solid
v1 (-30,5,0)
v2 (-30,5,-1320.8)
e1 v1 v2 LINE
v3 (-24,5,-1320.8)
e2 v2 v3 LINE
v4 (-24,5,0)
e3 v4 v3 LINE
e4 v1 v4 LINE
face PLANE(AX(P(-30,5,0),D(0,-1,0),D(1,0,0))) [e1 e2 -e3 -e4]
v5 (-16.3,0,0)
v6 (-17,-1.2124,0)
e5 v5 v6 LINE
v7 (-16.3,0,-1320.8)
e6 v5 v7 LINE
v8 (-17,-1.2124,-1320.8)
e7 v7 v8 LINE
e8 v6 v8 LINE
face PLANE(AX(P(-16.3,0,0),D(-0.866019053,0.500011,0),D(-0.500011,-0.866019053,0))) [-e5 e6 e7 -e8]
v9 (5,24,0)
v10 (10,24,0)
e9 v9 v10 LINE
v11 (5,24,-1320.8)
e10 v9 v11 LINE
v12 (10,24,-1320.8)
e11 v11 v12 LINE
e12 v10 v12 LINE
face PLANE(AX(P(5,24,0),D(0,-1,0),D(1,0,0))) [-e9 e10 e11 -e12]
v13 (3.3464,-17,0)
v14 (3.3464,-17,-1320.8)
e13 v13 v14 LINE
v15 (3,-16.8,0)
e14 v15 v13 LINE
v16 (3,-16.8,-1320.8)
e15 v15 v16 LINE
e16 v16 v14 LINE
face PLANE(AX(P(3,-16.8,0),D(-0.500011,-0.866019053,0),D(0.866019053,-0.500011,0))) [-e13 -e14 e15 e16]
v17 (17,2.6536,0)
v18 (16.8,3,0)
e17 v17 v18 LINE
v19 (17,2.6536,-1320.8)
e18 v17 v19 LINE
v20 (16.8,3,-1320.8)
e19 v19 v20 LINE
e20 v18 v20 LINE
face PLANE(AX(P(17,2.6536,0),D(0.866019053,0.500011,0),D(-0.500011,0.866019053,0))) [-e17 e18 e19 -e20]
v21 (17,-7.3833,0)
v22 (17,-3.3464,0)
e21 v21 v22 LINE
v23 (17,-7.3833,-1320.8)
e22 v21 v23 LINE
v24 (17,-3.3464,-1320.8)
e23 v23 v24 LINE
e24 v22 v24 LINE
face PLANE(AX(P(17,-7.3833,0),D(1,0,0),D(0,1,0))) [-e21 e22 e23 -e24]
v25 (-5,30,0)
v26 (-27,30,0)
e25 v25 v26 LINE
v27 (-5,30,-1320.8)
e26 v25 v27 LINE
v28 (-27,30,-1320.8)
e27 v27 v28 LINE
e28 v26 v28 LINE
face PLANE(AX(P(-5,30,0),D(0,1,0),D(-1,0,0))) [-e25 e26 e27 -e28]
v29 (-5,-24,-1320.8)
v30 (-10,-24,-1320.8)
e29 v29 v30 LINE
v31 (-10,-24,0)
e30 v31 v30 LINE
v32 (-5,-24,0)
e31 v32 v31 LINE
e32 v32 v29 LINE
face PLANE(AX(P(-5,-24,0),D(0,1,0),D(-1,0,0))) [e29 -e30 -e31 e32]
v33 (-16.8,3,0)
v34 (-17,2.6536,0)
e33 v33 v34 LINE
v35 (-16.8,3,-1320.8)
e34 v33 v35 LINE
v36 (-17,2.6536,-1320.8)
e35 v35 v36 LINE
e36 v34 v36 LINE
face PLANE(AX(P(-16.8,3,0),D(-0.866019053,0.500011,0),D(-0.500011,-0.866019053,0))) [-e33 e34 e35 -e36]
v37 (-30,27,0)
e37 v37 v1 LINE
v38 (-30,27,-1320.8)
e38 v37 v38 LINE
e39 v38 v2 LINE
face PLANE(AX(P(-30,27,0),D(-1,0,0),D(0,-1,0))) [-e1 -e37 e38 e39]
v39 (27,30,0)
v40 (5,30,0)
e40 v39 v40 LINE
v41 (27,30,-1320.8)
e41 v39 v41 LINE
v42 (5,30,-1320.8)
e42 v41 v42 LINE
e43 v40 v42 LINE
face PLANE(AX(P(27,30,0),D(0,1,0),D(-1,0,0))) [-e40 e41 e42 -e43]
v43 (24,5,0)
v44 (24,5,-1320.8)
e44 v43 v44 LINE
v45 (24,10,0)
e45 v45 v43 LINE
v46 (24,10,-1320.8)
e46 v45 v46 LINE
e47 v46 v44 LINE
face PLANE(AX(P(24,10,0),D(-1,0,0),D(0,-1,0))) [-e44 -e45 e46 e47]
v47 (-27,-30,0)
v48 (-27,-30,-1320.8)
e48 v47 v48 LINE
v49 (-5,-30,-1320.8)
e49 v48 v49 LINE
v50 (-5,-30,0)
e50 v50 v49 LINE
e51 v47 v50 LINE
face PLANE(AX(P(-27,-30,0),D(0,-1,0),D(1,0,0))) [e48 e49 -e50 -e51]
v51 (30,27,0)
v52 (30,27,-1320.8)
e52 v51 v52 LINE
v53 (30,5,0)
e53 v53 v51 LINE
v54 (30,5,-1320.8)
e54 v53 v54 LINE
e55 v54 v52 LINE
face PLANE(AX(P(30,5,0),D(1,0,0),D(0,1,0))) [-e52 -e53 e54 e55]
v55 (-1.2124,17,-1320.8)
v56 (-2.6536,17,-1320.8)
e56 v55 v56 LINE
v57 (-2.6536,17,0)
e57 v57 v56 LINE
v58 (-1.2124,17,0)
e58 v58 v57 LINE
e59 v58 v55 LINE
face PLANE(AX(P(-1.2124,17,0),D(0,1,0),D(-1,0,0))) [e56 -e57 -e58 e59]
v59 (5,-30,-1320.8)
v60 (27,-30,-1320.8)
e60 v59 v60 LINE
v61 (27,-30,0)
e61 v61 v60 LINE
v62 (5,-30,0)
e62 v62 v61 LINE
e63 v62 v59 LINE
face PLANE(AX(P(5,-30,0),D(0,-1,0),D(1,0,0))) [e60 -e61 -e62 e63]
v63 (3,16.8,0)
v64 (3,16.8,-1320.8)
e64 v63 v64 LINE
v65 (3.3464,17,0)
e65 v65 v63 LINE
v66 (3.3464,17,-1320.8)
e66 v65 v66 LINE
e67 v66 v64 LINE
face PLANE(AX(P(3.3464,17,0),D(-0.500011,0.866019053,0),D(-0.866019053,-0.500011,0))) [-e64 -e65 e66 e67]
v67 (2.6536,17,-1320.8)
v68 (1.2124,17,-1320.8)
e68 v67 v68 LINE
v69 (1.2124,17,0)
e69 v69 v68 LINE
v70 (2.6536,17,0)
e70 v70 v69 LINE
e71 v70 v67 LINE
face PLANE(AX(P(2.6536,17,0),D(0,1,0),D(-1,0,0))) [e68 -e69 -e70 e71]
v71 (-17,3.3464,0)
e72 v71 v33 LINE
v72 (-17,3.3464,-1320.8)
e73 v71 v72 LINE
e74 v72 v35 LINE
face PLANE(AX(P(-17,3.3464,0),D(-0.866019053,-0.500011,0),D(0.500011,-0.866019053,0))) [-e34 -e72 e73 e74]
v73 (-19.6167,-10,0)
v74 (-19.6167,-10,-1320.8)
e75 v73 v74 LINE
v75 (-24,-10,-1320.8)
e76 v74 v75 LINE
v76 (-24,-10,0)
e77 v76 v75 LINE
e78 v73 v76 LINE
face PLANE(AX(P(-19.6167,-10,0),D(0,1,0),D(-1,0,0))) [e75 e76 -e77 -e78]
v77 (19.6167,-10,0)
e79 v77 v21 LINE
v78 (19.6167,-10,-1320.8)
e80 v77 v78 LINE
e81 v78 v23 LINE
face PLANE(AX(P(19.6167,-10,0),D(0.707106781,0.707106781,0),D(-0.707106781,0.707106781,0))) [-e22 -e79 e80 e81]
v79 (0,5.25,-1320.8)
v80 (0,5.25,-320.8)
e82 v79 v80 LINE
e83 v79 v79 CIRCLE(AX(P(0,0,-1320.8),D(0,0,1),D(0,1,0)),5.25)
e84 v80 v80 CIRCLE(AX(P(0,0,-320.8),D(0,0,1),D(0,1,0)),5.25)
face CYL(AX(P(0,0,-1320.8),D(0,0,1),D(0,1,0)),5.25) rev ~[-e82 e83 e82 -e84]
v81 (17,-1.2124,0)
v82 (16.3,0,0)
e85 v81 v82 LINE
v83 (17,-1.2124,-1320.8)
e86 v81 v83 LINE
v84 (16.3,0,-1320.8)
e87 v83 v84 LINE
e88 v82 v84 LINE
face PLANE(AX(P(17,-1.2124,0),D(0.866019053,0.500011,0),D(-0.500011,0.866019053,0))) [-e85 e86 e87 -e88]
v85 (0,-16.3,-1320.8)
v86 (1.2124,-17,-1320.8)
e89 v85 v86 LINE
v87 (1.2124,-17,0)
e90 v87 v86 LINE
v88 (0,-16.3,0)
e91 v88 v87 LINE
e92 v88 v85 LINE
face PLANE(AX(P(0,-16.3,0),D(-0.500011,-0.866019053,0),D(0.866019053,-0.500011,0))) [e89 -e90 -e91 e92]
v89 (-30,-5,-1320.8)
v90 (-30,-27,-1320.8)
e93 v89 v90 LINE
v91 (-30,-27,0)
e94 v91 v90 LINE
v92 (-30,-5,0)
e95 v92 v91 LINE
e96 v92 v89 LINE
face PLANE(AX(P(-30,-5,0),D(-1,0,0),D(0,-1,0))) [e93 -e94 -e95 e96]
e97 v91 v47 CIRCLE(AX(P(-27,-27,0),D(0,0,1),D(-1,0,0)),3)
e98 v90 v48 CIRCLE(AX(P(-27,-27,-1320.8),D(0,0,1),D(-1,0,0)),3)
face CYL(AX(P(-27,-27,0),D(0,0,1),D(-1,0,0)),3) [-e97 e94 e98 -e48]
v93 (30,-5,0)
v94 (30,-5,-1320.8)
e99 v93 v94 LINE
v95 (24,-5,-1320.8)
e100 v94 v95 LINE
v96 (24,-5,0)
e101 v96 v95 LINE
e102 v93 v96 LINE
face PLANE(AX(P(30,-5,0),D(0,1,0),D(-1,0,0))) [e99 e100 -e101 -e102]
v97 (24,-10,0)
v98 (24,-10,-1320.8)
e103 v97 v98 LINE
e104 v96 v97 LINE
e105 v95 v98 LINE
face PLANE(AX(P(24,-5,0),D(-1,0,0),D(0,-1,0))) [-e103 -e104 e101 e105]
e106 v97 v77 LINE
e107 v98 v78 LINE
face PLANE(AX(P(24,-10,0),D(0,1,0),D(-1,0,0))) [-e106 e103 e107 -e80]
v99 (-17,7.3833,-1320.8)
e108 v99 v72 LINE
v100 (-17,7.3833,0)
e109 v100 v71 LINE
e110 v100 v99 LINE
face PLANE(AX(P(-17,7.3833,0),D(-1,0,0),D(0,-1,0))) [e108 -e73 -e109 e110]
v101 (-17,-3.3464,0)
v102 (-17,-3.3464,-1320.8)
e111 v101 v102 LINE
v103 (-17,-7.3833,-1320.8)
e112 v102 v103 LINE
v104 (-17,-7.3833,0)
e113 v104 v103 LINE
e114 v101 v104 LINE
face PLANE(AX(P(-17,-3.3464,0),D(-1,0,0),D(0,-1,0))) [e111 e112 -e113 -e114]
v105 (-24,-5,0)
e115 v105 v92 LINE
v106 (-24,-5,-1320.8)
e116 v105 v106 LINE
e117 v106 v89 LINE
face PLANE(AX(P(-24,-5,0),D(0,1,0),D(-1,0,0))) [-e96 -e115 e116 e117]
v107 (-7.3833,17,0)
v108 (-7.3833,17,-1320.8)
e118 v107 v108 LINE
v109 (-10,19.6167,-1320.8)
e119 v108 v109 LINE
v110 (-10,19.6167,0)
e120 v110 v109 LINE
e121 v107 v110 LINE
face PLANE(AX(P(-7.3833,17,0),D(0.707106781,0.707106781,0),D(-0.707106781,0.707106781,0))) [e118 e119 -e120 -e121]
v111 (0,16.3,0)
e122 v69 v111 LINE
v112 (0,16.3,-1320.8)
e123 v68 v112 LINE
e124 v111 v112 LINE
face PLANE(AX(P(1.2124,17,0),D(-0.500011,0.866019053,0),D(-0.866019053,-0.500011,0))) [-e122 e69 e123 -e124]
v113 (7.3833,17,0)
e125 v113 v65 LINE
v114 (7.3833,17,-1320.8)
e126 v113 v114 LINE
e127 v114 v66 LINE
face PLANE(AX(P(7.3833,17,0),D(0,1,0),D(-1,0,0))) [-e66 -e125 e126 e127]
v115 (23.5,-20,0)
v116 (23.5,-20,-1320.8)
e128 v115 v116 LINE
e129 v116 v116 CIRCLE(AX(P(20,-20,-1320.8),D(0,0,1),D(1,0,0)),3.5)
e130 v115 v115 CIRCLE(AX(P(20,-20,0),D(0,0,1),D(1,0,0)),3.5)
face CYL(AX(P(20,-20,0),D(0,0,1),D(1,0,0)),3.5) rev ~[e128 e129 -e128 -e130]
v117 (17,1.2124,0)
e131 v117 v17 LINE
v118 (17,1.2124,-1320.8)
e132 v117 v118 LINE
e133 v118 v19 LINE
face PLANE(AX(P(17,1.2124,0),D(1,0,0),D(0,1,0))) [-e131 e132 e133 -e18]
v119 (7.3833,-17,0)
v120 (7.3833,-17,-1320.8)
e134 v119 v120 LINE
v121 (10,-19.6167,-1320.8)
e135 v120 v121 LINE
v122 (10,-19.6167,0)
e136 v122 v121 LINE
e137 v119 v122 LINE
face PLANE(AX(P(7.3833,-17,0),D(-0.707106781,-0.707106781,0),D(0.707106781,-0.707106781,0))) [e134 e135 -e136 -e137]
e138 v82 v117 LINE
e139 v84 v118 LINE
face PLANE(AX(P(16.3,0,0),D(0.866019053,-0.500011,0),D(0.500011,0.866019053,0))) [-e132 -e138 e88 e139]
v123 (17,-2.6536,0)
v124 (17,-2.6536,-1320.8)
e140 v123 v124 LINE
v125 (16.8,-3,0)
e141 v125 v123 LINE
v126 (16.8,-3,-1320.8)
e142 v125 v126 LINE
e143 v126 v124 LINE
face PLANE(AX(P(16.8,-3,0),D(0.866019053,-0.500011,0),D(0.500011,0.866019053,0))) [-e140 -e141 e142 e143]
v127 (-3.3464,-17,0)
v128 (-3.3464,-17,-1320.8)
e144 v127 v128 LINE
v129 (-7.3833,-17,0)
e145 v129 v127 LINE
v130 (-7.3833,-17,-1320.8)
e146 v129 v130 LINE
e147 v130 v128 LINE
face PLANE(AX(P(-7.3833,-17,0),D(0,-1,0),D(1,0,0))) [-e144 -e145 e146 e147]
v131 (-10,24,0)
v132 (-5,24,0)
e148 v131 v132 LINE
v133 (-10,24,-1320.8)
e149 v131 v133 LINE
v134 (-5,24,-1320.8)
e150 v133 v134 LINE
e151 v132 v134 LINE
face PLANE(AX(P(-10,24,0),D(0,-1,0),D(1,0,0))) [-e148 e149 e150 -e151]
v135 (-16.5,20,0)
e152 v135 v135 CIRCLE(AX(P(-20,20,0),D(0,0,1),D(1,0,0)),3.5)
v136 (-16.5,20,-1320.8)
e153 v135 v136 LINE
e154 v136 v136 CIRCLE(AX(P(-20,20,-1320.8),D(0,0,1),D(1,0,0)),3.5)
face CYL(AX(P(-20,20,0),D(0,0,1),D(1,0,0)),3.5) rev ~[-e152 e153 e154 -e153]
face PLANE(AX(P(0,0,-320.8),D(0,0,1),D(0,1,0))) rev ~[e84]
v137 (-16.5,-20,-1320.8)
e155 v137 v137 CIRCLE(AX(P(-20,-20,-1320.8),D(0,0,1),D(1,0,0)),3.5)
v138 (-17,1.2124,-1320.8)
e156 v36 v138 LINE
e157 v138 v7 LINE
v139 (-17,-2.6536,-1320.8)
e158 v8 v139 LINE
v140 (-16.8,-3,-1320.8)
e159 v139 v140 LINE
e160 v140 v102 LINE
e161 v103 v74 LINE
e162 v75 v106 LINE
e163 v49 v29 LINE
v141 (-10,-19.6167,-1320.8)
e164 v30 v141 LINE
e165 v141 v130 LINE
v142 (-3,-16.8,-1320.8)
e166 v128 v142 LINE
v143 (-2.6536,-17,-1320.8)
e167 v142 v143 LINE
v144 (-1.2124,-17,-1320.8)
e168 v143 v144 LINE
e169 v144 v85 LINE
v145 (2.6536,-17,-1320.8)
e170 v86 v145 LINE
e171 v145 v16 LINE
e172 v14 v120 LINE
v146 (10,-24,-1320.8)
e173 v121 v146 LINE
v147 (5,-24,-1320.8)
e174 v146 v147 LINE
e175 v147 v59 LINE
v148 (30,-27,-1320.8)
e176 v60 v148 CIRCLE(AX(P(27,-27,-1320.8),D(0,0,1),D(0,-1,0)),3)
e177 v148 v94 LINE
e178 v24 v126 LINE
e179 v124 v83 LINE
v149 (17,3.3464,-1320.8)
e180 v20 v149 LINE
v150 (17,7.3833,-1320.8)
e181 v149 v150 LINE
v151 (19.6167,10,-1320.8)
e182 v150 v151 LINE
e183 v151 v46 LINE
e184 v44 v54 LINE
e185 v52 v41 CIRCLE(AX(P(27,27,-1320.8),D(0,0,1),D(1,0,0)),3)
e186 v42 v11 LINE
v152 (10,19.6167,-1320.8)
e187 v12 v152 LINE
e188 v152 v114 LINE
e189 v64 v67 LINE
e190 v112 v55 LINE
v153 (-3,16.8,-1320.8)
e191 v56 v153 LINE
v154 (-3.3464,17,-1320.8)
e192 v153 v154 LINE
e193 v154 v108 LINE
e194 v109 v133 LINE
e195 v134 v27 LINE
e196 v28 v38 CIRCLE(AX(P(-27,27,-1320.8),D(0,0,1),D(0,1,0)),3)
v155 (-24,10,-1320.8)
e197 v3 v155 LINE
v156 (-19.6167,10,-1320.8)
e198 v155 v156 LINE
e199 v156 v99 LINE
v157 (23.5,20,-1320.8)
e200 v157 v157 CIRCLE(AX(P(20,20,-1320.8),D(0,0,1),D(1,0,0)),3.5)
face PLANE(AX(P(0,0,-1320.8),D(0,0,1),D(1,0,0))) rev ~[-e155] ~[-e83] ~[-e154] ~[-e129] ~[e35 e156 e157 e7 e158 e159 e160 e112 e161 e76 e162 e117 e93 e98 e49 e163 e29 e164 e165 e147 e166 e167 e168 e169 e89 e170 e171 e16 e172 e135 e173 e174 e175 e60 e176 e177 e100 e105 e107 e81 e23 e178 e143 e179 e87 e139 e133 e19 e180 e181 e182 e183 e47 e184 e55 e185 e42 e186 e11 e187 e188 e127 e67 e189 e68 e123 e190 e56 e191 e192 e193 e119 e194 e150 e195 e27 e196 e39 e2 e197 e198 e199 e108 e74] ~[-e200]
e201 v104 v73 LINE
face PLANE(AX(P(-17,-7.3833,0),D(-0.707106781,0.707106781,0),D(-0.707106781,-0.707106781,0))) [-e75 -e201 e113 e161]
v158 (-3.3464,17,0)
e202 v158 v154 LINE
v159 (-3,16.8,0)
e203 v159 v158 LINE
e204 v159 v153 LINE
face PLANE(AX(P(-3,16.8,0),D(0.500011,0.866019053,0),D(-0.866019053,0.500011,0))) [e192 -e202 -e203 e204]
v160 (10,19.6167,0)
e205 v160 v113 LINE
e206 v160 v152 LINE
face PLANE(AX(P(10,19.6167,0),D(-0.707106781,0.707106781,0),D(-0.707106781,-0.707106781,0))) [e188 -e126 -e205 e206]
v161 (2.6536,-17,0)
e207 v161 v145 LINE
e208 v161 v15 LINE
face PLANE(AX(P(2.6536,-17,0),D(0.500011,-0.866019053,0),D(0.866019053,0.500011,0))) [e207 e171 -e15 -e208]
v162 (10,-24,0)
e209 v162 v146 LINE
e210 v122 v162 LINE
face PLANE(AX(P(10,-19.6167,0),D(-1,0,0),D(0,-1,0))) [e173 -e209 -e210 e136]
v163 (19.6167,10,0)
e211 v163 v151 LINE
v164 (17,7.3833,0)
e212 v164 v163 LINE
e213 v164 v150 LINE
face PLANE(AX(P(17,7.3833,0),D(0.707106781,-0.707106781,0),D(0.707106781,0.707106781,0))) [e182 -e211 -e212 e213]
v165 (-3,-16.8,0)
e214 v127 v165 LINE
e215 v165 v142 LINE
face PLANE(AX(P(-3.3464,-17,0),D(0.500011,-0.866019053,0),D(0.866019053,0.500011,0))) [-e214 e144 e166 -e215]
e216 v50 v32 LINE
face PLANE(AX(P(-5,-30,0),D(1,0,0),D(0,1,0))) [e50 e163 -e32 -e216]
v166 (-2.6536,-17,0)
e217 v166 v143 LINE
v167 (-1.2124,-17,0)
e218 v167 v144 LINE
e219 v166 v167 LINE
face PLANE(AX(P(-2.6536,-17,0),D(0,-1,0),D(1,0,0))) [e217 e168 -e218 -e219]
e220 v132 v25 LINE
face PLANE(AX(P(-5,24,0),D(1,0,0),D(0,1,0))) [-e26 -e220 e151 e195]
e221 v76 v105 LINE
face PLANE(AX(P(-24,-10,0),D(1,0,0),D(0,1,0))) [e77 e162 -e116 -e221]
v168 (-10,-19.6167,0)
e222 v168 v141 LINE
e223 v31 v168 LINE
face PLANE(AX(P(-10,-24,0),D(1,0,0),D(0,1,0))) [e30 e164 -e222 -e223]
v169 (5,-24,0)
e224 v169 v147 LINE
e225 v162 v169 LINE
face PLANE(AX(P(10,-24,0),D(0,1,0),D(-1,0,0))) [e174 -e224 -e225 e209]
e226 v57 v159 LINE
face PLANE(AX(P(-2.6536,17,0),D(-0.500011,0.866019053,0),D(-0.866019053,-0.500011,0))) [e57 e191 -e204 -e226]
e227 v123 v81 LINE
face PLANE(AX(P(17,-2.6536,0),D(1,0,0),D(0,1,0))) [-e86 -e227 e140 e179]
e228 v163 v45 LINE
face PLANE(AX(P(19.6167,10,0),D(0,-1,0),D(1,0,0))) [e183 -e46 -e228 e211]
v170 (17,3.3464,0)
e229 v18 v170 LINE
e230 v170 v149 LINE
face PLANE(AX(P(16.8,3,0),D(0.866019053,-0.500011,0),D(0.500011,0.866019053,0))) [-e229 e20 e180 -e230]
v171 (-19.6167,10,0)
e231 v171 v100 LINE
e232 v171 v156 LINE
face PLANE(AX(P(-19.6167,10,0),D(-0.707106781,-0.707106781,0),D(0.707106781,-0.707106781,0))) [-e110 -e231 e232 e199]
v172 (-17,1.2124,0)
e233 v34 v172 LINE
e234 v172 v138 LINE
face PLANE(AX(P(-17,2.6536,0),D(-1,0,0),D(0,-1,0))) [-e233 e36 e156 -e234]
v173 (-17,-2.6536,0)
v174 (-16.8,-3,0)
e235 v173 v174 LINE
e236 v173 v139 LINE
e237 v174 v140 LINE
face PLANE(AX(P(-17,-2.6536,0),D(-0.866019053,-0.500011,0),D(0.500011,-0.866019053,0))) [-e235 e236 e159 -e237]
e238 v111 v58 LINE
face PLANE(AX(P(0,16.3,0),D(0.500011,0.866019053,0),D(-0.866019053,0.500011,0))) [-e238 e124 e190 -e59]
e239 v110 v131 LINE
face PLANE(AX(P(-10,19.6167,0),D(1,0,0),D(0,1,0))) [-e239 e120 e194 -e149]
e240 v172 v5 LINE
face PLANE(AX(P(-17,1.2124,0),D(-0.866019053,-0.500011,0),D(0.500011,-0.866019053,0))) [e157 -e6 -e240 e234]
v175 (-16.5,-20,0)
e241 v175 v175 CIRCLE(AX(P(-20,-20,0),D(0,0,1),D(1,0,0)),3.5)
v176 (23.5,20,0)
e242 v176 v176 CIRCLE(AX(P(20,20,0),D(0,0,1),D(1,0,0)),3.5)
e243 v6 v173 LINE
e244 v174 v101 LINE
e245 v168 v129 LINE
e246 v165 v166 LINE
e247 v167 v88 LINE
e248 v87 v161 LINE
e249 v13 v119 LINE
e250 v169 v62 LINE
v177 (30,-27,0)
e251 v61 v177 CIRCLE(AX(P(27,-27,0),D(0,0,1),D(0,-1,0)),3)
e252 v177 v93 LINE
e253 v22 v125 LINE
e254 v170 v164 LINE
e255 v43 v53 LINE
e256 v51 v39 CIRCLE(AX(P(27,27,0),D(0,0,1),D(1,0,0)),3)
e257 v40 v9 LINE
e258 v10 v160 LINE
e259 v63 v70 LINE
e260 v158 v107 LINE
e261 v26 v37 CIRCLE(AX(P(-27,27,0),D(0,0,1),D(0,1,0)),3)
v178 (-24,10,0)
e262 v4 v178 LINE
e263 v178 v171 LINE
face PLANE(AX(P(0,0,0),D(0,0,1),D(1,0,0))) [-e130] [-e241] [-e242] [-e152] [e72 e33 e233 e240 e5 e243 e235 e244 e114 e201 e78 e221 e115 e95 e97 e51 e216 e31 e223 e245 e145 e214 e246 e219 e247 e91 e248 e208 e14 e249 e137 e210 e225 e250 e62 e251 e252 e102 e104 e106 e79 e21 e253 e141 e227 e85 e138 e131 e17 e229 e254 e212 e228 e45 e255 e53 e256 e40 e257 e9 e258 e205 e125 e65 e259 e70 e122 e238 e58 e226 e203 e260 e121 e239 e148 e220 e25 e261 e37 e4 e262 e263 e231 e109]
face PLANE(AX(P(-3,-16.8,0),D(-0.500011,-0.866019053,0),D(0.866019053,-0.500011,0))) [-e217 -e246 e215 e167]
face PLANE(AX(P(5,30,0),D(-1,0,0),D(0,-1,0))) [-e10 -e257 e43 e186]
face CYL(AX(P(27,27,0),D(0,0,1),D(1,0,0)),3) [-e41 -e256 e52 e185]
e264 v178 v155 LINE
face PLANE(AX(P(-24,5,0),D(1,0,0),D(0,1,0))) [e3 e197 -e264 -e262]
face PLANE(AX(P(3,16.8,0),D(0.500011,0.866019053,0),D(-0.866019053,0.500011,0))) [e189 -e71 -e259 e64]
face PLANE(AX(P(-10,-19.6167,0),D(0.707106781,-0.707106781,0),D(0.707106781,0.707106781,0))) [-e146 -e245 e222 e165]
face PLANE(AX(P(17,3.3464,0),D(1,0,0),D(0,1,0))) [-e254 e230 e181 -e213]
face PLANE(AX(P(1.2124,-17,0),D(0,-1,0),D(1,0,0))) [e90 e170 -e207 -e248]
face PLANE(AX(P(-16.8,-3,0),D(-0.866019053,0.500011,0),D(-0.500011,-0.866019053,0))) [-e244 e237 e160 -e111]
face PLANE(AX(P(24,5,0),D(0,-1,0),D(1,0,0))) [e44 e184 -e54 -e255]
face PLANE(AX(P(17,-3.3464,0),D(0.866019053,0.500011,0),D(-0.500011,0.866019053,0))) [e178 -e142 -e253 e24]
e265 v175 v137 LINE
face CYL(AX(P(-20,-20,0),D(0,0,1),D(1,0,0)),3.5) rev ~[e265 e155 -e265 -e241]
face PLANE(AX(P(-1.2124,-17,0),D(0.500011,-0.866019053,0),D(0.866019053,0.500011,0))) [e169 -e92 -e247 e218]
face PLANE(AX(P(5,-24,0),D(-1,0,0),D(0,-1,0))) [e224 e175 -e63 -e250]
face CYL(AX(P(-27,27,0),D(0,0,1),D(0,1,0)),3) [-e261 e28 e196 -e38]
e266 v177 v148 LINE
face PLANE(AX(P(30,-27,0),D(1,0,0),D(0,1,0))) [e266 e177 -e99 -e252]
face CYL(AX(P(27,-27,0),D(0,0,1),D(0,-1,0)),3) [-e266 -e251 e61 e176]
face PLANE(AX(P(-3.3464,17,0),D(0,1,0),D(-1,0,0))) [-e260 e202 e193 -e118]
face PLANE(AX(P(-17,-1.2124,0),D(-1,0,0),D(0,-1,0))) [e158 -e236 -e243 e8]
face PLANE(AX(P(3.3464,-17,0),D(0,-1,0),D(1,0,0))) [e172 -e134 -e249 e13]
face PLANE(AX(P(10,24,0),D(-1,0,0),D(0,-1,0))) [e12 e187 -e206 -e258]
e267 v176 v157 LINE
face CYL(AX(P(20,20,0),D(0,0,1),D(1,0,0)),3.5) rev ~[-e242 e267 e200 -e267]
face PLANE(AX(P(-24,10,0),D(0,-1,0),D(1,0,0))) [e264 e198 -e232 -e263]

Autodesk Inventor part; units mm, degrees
sketch "Sketch_60" plane through (0, 0, 0) normal (0, 0, 1) x (1, 0, 0)
  arc A0 (-30, -27) -> (-27, -30) centre (-27, -27) ccw
  line L0 (-27, -30) -> (-5, -30)
  line L1 (-5, -30) -> (-5, -24)
  line L2 (-5, -24) -> (-10, -24)
  line L3 (-10, -24) -> (-10, -19.6167)
  line L4 (-10, -19.6167) -> (-7.3833, -17)
  line L5 (-7.3833, -17) -> (-3.3464, -17)
  line L6 (-3.3464, -17) -> (-3, -16.8)
  line L7 (-3, -16.8) -> (-2.6536, -17)
  line L8 (-2.6536, -17) -> (-1.2124, -17)
  line L9 (-1.2124, -17) -> (0, -16.3)
  line L10 (0, -16.3) -> (1.2124, -17)
  line L11 (1.2124, -17) -> (2.6536, -17)
  line L12 (2.6536, -17) -> (3, -16.8)
  line L13 (3, -16.8) -> (3.3464, -17)
  line L14 (3.3464, -17) -> (7.3833, -17)
  line L15 (7.3833, -17) -> (10, -19.6167)
  line L16 (10, -19.6167) -> (10, -24)
  line L17 (10, -24) -> (5, -24)
  line L18 (5, -24) -> (5, -30)
  line L19 (5, -30) -> (27, -30)
  arc A1 (27, -30) -> (30, -27) centre (27, -27) ccw
  line L20 (30, -27) -> (30, -5)
  line L21 (30, -5) -> (24, -5)
  line L22 (24, -5) -> (24, -10)
  line L23 (24, -10) -> (19.6167, -10)
  line L24 (19.6167, -10) -> (17, -7.3833)
  line L25 (17, -7.3833) -> (17, -3.3464)
  line L26 (17, -3.3464) -> (16.8, -3)
  line L27 (16.8, -3) -> (17, -2.6536)
  line L28 (17, -2.6536) -> (17, -1.2124)
  line L29 (17, -1.2124) -> (16.3, 0)
  line L30 (16.3, 0) -> (17, 1.2124)
  line L31 (17, 1.2124) -> (17, 2.6536)
  line L32 (17, 2.6536) -> (16.8, 3)
  line L33 (16.8, 3) -> (17, 3.3464)
  line L34 (17, 3.3464) -> (17, 7.3833)
  line L35 (17, 7.3833) -> (19.6167, 10)
  line L36 (19.6167, 10) -> (24, 10)
  line L37 (24, 10) -> (24, 5)
  line L38 (24, 5) -> (30, 5)
  line L39 (30, 5) -> (30, 27)
  arc A2 (30, 27) -> (27, 30) centre (27, 27) ccw
  line L40 (27, 30) -> (5, 30)
  line L41 (5, 30) -> (5, 24)
  line L42 (5, 24) -> (10, 24)
  line L43 (10, 24) -> (10, 19.6167)
  line L44 (10, 19.6167) -> (7.3833, 17)
  line L45 (7.3833, 17) -> (3.3464, 17)
  line L46 (3.3464, 17) -> (3, 16.8)
  line L47 (3, 16.8) -> (2.6536, 17)
  line L48 (2.6536, 17) -> (1.2124, 17)
  line L49 (1.2124, 17) -> (0, 16.3)
  line L50 (0, 16.3) -> (-1.2124, 17)
  line L51 (-1.2124, 17) -> (-2.6536, 17)
  line L52 (-2.6536, 17) -> (-3, 16.8)
  line L53 (-3, 16.8) -> (-3.3464, 17)
  line L54 (-3.3464, 17) -> (-7.3833, 17)
  line L55 (-7.3833, 17) -> (-10, 19.6167)
  line L56 (-10, 19.6167) -> (-10, 24)
  line L57 (-10, 24) -> (-5, 24)
  line L58 (-5, 24) -> (-5, 30)
  line L59 (-5, 30) -> (-27, 30)
  arc A3 (-27, 30) -> (-30, 27) centre (-27, 27) ccw
  line L60 (-30, 27) -> (-30, 5)
  line L61 (-30, 5) -> (-24, 5)
  line L62 (-24, 5) -> (-24, 10)
  line L63 (-24, 10) -> (-19.6167, 10)
  line L64 (-19.6167, 10) -> (-17, 7.3833)
  line L65 (-17, 7.3833) -> (-17, 3.3464)
  line L66 (-17, 3.3464) -> (-16.8, 3)
  line L67 (-16.8, 3) -> (-17, 2.6536)
  line L68 (-17, 2.6536) -> (-17, 1.2124)
  line L69 (-17, 1.2124) -> (-16.3, 0)
  line L70 (-16.3, 0) -> (-17, -1.2124)
  line L71 (-17, -1.2124) -> (-17, -2.6536)
  line L72 (-17, -2.6536) -> (-16.8, -3)
  line L73 (-16.8, -3) -> (-17, -3.3464)
  line L74 (-17, -3.3464) -> (-17, -7.3833)
  line L75 (-17, -7.3833) -> (-19.6167, -10)
  line L76 (-19.6167, -10) -> (-24, -10)
  line L77 (-24, -10) -> (-24, -5)
  line L78 (-24, -5) -> (-30, -5)
  line L79 (-30, -5) -> (-30, -27)
  circle A4 centre (20, 20) radius 3.5
  circle A5 centre (20, -20) radius 3.5
  circle A6 centre (-20, 20) radius 3.5
  circle A7 centre (-20, -20) radius 3.5
extrude "Extrusion1" add sketch "Sketch_60" against normal blind 1320.8
sketch "Sketch2" plane through (0, 0, -1320.8) normal (0, 0, -1) x (-1, 0, 0)
  point P0 (0, 0)
hole "Hole1" at (0, 0, -1320.8) direction (0, 0, 1) diameter 10.5 depth 1000
ref_plane "C1_XY" through (0, 0, 0) normal (0, 0, 1) x (1, 0, 0)
ref_plane "C1_YZ" through (0, 0, 0) normal (1, 0, 0) x (0, 1, 0)
ref_plane "C1_ZX" through (0, 0, 0) normal (0, 1, 0) x (0, 0, 1)
ref_plane "to_frame_cap1_XY" through (0, 0, 0) normal (0, 0, 1) x (1, 0, 0)
ref_plane "to_frame_cap1_YZ" through (0, 0, 0) normal (1, 0, 0) x (0, 1, 0)
ref_plane "to_frame_cap1_ZX" through (0, 0, 0) normal (0, 1, 0) x (0, 0, 1)
ref_plane "to_frame_cap2_XY" through (0, 0, -1000) normal (0, 0, -1) x (1, 0, 0)
ref_plane "to_frame_cap2_YZ" through (0, 0, -1000) normal (1, 0, 0) x (0, -1, 0)
ref_plane "to_frame_cap2_ZX" through (0, 0, -1000) normal (0, -1, 0) x (0, 0, -1)
properties part number "6060-5.5"
